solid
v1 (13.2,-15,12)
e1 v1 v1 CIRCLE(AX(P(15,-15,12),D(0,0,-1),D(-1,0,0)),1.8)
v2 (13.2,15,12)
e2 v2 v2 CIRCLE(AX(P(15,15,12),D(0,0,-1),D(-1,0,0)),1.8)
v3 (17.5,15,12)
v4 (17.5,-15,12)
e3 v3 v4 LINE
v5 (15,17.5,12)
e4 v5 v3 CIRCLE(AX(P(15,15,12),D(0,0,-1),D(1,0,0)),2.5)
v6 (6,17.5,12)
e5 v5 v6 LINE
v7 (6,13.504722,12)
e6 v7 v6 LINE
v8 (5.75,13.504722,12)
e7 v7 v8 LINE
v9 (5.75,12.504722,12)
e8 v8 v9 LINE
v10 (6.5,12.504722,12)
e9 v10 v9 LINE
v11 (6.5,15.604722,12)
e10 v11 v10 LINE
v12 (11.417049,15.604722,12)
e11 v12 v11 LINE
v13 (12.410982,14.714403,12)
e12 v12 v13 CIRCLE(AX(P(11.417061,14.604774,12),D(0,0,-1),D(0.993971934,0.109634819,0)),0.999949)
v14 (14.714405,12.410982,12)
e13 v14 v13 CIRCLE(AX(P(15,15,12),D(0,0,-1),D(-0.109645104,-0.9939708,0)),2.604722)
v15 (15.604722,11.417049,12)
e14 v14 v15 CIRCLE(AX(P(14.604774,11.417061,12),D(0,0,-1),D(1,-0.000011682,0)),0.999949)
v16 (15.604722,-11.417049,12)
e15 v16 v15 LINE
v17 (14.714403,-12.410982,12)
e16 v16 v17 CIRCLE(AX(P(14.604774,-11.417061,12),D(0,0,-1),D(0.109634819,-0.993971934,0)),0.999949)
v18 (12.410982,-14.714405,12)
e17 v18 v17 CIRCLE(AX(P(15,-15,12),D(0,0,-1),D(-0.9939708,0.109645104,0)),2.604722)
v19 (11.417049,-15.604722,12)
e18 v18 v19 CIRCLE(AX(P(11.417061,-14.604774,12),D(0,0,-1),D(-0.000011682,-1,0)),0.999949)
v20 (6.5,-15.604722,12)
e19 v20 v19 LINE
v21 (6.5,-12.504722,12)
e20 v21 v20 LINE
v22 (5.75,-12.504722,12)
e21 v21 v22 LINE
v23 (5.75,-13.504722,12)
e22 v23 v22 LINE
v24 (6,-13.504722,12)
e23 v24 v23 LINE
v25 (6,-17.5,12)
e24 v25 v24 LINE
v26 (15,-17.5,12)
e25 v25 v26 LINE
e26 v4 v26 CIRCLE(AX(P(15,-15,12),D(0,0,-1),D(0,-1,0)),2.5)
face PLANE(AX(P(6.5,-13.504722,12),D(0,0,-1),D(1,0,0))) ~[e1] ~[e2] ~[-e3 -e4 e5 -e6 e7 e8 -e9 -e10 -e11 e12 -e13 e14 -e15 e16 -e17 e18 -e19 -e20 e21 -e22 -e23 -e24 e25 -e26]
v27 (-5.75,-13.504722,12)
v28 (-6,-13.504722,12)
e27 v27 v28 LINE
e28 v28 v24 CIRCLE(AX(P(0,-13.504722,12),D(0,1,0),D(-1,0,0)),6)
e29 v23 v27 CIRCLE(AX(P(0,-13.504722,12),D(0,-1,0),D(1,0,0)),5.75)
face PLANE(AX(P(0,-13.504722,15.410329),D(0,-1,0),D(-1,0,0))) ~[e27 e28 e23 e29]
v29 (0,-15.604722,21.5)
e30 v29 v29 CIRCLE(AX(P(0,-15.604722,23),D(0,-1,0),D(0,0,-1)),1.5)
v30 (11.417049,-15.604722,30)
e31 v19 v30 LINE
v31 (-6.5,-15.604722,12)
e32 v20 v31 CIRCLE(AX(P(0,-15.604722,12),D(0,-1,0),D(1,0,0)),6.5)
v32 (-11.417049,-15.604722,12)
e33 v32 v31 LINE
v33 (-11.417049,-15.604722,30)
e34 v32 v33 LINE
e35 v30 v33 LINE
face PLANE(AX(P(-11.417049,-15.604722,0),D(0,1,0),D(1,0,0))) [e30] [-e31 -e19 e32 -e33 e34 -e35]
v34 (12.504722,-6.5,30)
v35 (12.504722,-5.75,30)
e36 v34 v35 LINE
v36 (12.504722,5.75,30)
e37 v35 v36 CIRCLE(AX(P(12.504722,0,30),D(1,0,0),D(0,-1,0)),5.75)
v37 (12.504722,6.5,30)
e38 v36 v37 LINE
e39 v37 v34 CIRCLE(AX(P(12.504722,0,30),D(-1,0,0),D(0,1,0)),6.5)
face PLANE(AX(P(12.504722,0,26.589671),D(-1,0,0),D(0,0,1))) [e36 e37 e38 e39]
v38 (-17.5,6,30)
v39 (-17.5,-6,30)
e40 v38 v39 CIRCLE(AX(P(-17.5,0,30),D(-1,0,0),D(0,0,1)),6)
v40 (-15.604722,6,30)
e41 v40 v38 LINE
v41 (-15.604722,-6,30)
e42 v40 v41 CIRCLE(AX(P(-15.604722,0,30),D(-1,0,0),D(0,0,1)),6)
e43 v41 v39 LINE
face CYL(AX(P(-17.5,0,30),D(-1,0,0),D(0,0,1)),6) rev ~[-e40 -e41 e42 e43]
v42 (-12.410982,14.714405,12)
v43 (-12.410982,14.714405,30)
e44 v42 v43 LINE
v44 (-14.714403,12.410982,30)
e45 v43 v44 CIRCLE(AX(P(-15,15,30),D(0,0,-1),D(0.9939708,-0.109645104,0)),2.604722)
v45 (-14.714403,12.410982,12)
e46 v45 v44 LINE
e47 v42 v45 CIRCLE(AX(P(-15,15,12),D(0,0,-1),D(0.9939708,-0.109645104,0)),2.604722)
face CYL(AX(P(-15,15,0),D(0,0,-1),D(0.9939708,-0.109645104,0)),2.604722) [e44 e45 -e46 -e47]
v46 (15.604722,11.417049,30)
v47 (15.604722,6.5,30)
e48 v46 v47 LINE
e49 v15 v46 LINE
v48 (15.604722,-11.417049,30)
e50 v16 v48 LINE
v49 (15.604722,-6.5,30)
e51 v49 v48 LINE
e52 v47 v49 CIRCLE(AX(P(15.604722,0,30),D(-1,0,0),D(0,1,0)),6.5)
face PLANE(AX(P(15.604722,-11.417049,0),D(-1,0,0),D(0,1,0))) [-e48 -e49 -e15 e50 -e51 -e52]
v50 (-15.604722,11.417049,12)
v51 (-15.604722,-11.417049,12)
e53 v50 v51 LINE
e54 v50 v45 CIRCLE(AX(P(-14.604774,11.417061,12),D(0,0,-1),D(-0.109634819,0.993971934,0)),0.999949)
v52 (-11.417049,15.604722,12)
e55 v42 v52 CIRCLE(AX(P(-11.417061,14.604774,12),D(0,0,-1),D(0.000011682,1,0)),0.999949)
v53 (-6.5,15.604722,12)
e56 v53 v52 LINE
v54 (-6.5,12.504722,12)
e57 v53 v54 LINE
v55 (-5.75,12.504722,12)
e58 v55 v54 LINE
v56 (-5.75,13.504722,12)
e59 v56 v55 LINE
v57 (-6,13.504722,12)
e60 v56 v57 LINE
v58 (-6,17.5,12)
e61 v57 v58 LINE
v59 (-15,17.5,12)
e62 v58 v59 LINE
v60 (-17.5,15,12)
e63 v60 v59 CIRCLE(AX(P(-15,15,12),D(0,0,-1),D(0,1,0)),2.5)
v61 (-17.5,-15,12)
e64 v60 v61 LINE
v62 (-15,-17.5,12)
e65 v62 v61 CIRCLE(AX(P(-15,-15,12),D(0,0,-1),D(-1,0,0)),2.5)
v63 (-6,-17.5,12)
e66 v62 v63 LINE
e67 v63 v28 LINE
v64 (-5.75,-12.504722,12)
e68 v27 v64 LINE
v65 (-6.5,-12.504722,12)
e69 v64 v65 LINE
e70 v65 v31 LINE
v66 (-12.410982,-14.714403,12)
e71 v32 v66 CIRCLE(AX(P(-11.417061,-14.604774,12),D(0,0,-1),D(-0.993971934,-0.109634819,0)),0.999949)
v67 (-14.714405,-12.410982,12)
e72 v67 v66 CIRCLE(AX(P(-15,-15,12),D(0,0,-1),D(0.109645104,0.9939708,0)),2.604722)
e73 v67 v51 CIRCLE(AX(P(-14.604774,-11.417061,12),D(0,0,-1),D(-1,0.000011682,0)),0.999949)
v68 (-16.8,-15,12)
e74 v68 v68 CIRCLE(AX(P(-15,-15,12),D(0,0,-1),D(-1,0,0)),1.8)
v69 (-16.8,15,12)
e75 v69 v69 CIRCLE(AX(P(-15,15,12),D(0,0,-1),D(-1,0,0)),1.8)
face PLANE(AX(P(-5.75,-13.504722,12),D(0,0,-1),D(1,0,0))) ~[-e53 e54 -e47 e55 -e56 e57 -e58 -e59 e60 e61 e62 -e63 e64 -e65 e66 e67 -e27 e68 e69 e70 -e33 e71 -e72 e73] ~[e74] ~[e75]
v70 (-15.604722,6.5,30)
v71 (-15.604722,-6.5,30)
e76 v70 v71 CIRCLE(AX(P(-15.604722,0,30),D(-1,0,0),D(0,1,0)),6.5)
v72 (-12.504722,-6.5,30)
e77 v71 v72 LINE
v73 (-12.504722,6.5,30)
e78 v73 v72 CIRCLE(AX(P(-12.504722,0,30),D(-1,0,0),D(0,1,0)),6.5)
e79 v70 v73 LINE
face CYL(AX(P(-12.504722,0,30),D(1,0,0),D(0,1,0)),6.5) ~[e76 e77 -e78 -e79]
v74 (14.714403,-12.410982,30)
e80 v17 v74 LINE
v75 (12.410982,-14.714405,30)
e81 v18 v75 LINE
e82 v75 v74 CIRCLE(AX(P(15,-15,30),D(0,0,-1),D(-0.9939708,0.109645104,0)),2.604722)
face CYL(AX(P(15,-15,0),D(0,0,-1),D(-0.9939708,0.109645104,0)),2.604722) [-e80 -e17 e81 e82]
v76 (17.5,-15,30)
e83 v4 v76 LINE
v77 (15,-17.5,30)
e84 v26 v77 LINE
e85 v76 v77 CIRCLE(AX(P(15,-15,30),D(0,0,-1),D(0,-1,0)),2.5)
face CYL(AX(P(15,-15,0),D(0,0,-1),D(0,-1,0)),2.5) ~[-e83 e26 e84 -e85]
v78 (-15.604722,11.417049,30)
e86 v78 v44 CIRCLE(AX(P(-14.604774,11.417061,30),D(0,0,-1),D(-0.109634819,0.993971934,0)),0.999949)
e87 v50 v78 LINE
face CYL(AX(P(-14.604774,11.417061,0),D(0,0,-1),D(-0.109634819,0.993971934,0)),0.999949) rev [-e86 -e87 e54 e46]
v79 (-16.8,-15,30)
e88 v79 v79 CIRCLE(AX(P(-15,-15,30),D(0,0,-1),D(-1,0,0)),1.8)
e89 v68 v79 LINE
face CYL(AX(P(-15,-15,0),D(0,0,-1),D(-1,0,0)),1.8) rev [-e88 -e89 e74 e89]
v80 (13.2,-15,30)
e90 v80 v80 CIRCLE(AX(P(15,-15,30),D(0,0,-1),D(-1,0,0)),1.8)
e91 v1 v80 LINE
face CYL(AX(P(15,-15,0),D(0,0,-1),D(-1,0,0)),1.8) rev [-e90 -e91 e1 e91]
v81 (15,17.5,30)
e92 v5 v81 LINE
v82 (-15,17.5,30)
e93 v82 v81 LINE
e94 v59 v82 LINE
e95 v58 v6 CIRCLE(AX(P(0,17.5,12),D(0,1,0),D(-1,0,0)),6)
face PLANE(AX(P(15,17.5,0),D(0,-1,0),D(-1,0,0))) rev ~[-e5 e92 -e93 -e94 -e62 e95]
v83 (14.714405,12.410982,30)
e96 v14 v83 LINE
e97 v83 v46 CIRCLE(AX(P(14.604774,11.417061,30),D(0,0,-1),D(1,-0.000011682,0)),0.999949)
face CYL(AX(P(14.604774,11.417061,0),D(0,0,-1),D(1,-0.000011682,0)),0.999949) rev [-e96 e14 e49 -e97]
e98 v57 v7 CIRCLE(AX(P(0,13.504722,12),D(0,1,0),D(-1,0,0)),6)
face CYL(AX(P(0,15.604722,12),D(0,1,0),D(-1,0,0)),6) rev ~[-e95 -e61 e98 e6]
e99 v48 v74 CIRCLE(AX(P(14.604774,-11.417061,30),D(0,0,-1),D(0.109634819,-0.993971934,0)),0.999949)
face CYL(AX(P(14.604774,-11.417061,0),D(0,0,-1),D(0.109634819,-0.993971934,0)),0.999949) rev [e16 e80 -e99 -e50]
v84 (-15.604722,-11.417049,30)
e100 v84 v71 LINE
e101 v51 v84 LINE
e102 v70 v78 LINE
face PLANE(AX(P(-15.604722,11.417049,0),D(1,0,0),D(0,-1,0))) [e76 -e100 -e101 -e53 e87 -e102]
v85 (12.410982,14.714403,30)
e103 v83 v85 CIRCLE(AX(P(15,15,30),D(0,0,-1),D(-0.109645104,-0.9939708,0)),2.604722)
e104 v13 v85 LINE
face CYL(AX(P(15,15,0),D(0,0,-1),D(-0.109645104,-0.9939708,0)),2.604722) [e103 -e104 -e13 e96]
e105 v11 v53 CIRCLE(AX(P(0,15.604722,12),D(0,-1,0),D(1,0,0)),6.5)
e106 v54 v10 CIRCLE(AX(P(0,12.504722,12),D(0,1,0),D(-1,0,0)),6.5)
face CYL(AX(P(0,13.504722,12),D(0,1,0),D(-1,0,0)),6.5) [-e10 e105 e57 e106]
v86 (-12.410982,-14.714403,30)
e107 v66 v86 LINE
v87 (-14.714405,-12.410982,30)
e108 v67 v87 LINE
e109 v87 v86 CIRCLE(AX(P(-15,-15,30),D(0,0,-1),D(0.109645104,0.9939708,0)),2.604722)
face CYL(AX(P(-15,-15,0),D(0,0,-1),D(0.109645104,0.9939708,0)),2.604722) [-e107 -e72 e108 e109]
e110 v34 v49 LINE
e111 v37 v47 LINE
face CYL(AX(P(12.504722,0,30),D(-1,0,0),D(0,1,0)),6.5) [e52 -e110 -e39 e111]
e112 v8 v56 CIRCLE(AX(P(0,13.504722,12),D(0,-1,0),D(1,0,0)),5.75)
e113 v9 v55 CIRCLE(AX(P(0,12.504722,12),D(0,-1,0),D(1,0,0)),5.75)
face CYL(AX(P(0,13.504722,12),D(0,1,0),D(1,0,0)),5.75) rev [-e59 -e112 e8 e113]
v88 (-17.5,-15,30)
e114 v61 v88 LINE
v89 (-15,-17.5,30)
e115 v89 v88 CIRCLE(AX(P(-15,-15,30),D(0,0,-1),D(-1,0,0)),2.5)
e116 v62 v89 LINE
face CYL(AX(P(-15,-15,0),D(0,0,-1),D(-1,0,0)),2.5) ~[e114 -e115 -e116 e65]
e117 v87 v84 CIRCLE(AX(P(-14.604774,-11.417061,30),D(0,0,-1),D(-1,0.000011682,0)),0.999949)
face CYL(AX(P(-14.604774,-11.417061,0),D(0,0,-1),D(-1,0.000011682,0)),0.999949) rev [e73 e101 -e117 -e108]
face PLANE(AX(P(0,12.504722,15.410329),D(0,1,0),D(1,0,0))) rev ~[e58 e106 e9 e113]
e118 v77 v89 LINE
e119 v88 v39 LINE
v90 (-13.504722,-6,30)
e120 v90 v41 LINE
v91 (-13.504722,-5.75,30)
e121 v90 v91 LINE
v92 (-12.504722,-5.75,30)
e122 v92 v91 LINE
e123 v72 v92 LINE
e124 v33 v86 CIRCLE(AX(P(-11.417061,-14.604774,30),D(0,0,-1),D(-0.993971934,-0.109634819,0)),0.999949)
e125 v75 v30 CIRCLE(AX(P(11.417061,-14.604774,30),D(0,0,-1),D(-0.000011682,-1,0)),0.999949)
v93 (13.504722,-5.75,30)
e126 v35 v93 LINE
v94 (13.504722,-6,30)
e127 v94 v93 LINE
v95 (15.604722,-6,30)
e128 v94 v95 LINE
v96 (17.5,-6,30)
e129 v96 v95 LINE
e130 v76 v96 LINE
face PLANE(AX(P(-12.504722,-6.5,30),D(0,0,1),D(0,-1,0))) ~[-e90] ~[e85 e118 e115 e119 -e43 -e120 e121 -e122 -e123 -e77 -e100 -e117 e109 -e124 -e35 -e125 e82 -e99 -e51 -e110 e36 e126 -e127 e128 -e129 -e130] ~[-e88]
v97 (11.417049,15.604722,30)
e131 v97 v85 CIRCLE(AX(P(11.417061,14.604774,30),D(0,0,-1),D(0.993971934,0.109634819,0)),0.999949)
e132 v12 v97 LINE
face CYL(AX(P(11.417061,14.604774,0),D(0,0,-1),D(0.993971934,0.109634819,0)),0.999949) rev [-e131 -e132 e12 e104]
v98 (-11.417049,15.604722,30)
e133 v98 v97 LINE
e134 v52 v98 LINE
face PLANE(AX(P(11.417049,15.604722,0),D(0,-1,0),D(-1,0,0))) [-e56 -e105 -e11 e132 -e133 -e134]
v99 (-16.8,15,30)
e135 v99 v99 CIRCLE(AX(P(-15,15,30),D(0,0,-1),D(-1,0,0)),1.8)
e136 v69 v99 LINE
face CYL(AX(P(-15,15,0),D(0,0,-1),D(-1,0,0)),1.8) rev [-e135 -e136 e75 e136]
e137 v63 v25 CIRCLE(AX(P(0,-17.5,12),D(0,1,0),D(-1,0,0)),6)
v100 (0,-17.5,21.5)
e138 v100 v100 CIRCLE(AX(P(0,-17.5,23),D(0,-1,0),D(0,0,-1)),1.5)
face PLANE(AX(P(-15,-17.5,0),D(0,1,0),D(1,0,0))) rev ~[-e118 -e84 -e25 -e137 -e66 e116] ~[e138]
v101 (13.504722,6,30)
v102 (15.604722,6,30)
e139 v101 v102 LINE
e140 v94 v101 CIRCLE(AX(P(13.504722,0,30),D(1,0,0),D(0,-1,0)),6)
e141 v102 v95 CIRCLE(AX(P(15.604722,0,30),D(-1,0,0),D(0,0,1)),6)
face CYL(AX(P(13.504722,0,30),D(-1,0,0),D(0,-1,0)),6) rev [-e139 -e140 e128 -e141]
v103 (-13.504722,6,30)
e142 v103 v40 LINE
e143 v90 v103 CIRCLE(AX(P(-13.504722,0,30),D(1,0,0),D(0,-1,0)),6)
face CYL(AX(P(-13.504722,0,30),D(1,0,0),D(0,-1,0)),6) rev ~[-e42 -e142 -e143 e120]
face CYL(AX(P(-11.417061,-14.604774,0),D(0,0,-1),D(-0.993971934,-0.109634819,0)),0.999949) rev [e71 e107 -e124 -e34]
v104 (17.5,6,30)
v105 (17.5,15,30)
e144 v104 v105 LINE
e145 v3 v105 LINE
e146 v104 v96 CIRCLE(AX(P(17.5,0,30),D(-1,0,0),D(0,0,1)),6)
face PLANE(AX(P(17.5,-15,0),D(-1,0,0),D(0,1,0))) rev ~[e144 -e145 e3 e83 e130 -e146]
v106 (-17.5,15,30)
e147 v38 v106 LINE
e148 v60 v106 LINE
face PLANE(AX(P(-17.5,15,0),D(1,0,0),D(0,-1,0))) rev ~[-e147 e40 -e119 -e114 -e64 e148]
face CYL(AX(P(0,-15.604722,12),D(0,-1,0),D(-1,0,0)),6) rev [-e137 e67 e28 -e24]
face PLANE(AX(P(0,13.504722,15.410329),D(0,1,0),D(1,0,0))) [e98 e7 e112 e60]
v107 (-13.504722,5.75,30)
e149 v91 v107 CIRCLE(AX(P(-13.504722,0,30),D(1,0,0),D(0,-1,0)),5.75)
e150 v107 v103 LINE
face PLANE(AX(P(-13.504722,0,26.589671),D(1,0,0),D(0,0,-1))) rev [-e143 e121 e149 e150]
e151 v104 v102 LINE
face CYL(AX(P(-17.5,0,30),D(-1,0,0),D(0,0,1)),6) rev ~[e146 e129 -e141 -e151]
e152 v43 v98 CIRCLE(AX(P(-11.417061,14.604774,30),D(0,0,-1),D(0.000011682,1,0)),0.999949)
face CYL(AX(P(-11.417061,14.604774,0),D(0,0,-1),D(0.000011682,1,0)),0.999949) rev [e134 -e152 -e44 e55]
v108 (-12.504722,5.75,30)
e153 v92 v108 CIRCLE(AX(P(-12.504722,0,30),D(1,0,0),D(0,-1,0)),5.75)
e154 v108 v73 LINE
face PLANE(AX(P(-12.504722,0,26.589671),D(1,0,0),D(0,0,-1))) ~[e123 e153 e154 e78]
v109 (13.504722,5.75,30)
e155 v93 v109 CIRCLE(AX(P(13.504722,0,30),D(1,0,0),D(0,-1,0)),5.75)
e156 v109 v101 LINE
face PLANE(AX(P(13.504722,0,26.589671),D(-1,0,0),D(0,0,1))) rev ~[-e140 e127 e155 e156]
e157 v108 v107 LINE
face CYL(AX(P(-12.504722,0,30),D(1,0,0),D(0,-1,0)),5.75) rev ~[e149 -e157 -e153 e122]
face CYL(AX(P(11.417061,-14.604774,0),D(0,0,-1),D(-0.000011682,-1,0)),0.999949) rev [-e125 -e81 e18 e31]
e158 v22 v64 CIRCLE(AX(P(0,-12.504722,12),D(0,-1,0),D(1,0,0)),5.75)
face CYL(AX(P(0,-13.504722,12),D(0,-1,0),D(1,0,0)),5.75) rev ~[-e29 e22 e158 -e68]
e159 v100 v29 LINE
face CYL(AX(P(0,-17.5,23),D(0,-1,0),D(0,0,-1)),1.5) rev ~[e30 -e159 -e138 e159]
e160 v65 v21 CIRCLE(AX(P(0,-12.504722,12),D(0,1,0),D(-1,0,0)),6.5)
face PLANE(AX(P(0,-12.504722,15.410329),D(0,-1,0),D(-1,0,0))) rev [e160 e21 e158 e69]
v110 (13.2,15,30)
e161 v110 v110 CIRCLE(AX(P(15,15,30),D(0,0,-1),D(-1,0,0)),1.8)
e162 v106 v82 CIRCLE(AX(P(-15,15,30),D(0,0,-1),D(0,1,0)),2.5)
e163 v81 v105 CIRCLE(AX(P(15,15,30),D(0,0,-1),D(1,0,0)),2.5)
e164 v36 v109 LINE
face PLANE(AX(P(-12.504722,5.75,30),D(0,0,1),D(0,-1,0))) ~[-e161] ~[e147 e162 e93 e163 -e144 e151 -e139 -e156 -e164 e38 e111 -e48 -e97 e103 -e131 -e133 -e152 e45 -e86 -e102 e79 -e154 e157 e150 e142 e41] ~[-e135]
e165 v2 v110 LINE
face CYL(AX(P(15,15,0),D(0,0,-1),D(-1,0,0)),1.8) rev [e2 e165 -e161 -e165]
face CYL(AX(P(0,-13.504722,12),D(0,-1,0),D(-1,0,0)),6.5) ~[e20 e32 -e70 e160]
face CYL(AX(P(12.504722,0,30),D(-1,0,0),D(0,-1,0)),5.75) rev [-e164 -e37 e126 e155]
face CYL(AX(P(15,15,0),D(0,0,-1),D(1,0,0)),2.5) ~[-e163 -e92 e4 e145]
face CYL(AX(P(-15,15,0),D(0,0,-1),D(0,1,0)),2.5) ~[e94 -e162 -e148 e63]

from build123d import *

# Parameters (mm, degrees)
SKETCH_1_R          = 1.8000000000000025
SKETCH_1_R_2        = 1.8000000000000043
SKETCH_1_R_3        = 1.8000000000000005
SKETCH_1_R_4        = 1.8000000000000007
EXTRUDE_1_DEPTH     = 42
SKETCH_2_R          = 6.000000000000001
CUT_EXTRUDE_1_DEPTH = 58.404268133998535
SKETCH_3_R          = 6.000000000000002
CUT_EXTRUDE_2_DEPTH = 58.404268133998535
SKETCH_5_W          = 12
SKETCH_5_H          = 15.000000000000005
SKETCH_5_H_2        = 15.000000000000002
CUT_EXTRUDE_3_DEPTH = 58.404268133998535
EXTRUDE_2_DEPTH     = 2.1
EXTRUDE_3_DEPTH     = 1
EXTRUDE_START       = 2.1
EXTRUDE_4_DEPTH     = 2.1
EXTRUDE_START_2     = 1
EXTRUDE_5_DEPTH     = 1
SKETCH_10_R         = 1.5000000000000018
CUT_EXTRUDE_4_DEPTH = 3


with BuildPart() as part:
    # 草图1 → 凸台-拉伸1 (new body)
    with BuildSketch(Plane(origin=(0, 0, 0), x_dir=(-1, 0, 0), z_dir=(0, 0, 1))):
        with BuildLine():
            Line((-17.499999999999996, 15), (-17.499999999999996, -15.000000000000007))
            ThreePointArc((-17.499999999999996, -15.000000000000007), (-16.767766952966365, -16.767766952966372), (-15, -17.500000000000007))
            Line((-15, -17.500000000000007), (15.000000000000004, -17.500000000000007))
            ThreePointArc((15.000000000000004, -17.500000000000007), (16.76776695296637, -16.767766952966376), (17.5, -15.00000000000001))
            Line((17.5, -15.00000000000001), (17.5, 14.999999999999996))
            ThreePointArc((17.5, 14.999999999999996), (16.76776695296637, 16.76776695296636), (15.000000000000004, 17.499999999999996))
            Line((15.000000000000004, 17.499999999999996), (-15, 17.499999999999996))
            ThreePointArc((-15, 17.499999999999996), (-16.767766952966365, 16.767766952966365), (-17.499999999999996, 15))
        make_face()
        with Locations((-15.000000000000004, -15.00000000000001)):
            Circle(SKETCH_1_R, mode=Mode.SUBTRACT)
        with Locations((15.000000000000004, -15.00000000000001)):
            Circle(SKETCH_1_R_2, mode=Mode.SUBTRACT)
        with Locations((15.000000000000004, 14.999999999999996)):
            Circle(SKETCH_1_R_3, mode=Mode.SUBTRACT)
        with Locations((-15, 15)):
            Circle(SKETCH_1_R_4, mode=Mode.SUBTRACT)
        with BuildLine():
            Line((15.604722413530899, -11.417049414734192), (15.604722413530899, 11.41704941481964))
            ThreePointArc((15.604722413530899, 11.41704941481964), (15.349600753639777, 12.084241863325458), (14.714404940145743, 12.41098197902667))
            ThreePointArc((14.714404940145743, 12.41098197902667), (13.158183898644735, 13.15818233801838), (12.410982220986185, 14.714402746377065))
            ThreePointArc((12.410982220986185, 14.714402746377065), (12.084242685294747, 15.349600017363324), (11.417049414775391, 15.604722413530212))
            Line((11.417049414775391, 15.604722413530212), (-11.417049414778536, 15.604722413530212))
            ThreePointArc((-11.417049414778536, 15.604722413530212), (-12.084241863278942, 15.349600753643644), (-12.410981978984013, 14.714404940159108))
            ThreePointArc((-12.410981978984013, 14.714404940159108), (-13.158182337972896, 13.158183898648431), (-14.714402746337697, 12.41098222098531))
            ThreePointArc((-14.714402746337697, 12.41098222098531), (-15.34960001732269, 12.084242685293246), (-15.604722413489107, 11.41704941477461))
            Line((-15.604722413489107, 11.41704941477461), (-15.604722413489107, -11.417049414779225))
            ThreePointArc((-15.604722413489107, -11.417049414779225), (-15.349600753597985, -12.084241863285039), (-14.714404940103952, -12.410981978986248))
            ThreePointArc((-14.714404940103952, -12.410981978986248), (-13.158183898602942, -13.158182337977962), (-12.410982220944396, -14.714402746336651))
            ThreePointArc((-12.410982220944396, -14.714402746336651), (-12.084242685252958, -15.34960001732291), (-11.417049414733604, -15.604722413489796))
            Line((-11.417049414733604, -15.604722413489796), (11.417049414820326, -15.604722413489796))
            ThreePointArc((11.417049414820326, -15.604722413489796), (12.084241863320731, -15.349600753603227), (12.410981979025802, -14.714404940118692))
            ThreePointArc((12.410981979025802, -14.714404940118692), (13.158182338014687, -13.158183898608014), (14.71440274637949, -12.410982220944893))
            ThreePointArc((14.71440274637949, -12.410982220944893), (15.34960001736448, -12.084242685252828), (15.604722413530899, -11.417049414734192))
        make_face(mode=Mode.SUBTRACT)
    extrude(amount=EXTRUDE_1_DEPTH)

    # 草图2 → 切除-拉伸1 (cut, through all)
    with BuildSketch(Plane(origin=(0, 17.500000000000007, 0), x_dir=(1, 0, 0), z_dir=(0, 1, 0))):
        with Locations(Location((0, -11.999999999999998, 0), (0, 0, 270))):
            Circle(SKETCH_2_R)
    extrude(amount=-CUT_EXTRUDE_1_DEPTH, mode=Mode.SUBTRACT)

    # 草图3 → 切除-拉伸2 (cut, through all)
    with BuildSketch(Plane.ZY.offset(17.5)):
        with Locations((30, 0)):
            Circle(SKETCH_3_R)
    extrude(amount=-CUT_EXTRUDE_2_DEPTH, mode=Mode.SUBTRACT)

    # 草图5 → 切除-拉伸3 (cut, through all)
    with BuildSketch(Plane(origin=(17.499999999999996, 0, 0), x_dir=(0, 0, -1), z_dir=(1, 0, 0))):
        Polygon((-30, -24.974265818952347), (-30, -15), (-42, -15), (-42, 15.000000000000007), (-30, 15.000000000000007), (-30, 23.87950348168345), (-47.41212790980853, 25.238249525472156), (-47.41212790980853, -24.974265818952347), align=None)
        with BuildLine():
            Line((-42, -15), (-30, -15))
            Line((-30, -15), (-30, -6.000000000000003))
            ThreePointArc((-29.999999999999925, -6.000000000000003), (-36, -1.93e-15), (-29.999999999999932, 6.000000000000003))
            Line((-30, 6.000000000000003), (-30, 15.000000000000007))
            Line((-30, 15.000000000000007), (-42, 15.000000000000007))
            Line((-42, 15.000000000000007), (-42, -15))
        make_face()
        with Locations((-6, 7.500000000000003)):
            Rectangle(SKETCH_5_W, SKETCH_5_H)
        Polygon((0, 15.000000000000007), (0, 0), (0, -15), (-12, -15), (-12, -24.974265818952347), (12.116605042765016, -24.974265818952347), (12.116605042765016, 23.87950348168345), (-12, 23.87950348168345), (-12, 15.000000000000007), align=None)
        with Locations((-6, -7.500000000000001)):
            Rectangle(SKETCH_5_W, SKETCH_5_H_2)
    extrude(amount=-CUT_EXTRUDE_3_DEPTH, mode=Mode.SUBTRACT)

    # 草图6 → 凸台-拉伸2 (add)
    with BuildSketch(Plane(origin=(0, 15.604722413489796, 0), x_dir=(-1, 0, 0), z_dir=(0, -1, 0))):
        with BuildLine():
            Line((-6.000000000000001, -11.999999999999998), (-6.500000000000001, -11.999999999999998))
            ThreePointArc((-6.500000000000001, -11.999999999999998), (-1.19e-15, -18.5), (6.500000000000001, -11.999999999999998))
            Line((6.500000000000001, -11.999999999999998), (6.000000000000001, -11.999999999999998))
            ThreePointArc((6.000000000000001, -11.999999999999998), (-1.1e-15, -18), (-6.000000000000001, -11.999999999999998))
        make_face()
    extrude_2 = extrude(amount=EXTRUDE_2_DEPTH)

    # 草图7 → 凸台-拉伸3 (add)
    with BuildSketch(Plane(origin=(0, 13.504722413489795, 0), x_dir=(-1, 0, 0), z_dir=(0, -1, 0))):
        with BuildLine():
            Line((-6.500000000000002, -11.999999999999998), (-5.750000000000001, -11.999999999999998))
            ThreePointArc((-5.750000000000001, -11.999999999999998), (-1.06e-15, -17.75), (5.750000000000001, -11.999999999999998))
            Line((5.750000000000001, -11.999999999999998), (6.500000000000002, -11.999999999999998))
            ThreePointArc((6.500000000000002, -11.999999999999998), (-1.19e-15, -18.5), (-6.500000000000002, -11.999999999999998))
        make_face()
    extrude_3 = extrude(amount=EXTRUDE_3_DEPTH)

    # 镜向1: 凸台-拉伸2, 凸台-拉伸3 across plane
    add(extrude_2.mirror(Plane(origin=(0, 0, 0), x_dir=(0, 0, 1), z_dir=(0, -1, 0))))
    add(extrude_3.mirror(Plane(origin=(0, 0, 0), x_dir=(0, 0, 1), z_dir=(0, -1, 0))))

    # 草图8 → 凸台-拉伸4 (add)
    with BuildSketch(Plane.ZY.offset(-15.604722413489107).offset(EXTRUDE_START)):
        with BuildLine():
            Line((30, -6.500000000000001), (30, -6.000000000000003))
            ThreePointArc((30, -6.000000000000003), (23.999999999999996, 7.3e-16), (30, 6.000000000000003))
            Line((30, 6.000000000000003), (30, 6.500000000000001))
            ThreePointArc((30, 6.500000000000001), (23.5, 8e-16), (30, -6.500000000000001))
        make_face()
    extrude_4 = extrude(amount=-EXTRUDE_4_DEPTH)

    # 草图9 → 凸台-拉伸5 (add)
    with BuildSketch(Plane.ZY.offset(-13.504722413489107).offset(EXTRUDE_START_2)):
        with BuildLine():
            Line((30, -6.500000000000001), (30, -5.750000000000003))
            ThreePointArc((30, -5.750000000000003), (24.249999999999996, 7e-16), (30, 5.750000000000003))
            Line((30, 5.750000000000003), (30, 6.500000000000001))
            ThreePointArc((30, 6.500000000000001), (23.5, 8e-16), (30, -6.500000000000001))
        make_face()
    extrude_5 = extrude(amount=-EXTRUDE_5_DEPTH)

    # 镜向2: 凸台-拉伸4, 凸台-拉伸5 across plane
    add(extrude_4.mirror(Plane.ZY))
    add(extrude_5.mirror(Plane.ZY))

    # 草图10 → 切除-拉伸4 (cut)
    with BuildSketch(Plane.XZ.offset(17.499999999999996)):
        with Locations(Location((-1.8416814e-09, 23.000000000000025, 0), (0, 0, 270))):
            Circle(SKETCH_10_R)
    extrude(amount=-CUT_EXTRUDE_4_DEPTH, mode=Mode.SUBTRACT)


solid = part.part
